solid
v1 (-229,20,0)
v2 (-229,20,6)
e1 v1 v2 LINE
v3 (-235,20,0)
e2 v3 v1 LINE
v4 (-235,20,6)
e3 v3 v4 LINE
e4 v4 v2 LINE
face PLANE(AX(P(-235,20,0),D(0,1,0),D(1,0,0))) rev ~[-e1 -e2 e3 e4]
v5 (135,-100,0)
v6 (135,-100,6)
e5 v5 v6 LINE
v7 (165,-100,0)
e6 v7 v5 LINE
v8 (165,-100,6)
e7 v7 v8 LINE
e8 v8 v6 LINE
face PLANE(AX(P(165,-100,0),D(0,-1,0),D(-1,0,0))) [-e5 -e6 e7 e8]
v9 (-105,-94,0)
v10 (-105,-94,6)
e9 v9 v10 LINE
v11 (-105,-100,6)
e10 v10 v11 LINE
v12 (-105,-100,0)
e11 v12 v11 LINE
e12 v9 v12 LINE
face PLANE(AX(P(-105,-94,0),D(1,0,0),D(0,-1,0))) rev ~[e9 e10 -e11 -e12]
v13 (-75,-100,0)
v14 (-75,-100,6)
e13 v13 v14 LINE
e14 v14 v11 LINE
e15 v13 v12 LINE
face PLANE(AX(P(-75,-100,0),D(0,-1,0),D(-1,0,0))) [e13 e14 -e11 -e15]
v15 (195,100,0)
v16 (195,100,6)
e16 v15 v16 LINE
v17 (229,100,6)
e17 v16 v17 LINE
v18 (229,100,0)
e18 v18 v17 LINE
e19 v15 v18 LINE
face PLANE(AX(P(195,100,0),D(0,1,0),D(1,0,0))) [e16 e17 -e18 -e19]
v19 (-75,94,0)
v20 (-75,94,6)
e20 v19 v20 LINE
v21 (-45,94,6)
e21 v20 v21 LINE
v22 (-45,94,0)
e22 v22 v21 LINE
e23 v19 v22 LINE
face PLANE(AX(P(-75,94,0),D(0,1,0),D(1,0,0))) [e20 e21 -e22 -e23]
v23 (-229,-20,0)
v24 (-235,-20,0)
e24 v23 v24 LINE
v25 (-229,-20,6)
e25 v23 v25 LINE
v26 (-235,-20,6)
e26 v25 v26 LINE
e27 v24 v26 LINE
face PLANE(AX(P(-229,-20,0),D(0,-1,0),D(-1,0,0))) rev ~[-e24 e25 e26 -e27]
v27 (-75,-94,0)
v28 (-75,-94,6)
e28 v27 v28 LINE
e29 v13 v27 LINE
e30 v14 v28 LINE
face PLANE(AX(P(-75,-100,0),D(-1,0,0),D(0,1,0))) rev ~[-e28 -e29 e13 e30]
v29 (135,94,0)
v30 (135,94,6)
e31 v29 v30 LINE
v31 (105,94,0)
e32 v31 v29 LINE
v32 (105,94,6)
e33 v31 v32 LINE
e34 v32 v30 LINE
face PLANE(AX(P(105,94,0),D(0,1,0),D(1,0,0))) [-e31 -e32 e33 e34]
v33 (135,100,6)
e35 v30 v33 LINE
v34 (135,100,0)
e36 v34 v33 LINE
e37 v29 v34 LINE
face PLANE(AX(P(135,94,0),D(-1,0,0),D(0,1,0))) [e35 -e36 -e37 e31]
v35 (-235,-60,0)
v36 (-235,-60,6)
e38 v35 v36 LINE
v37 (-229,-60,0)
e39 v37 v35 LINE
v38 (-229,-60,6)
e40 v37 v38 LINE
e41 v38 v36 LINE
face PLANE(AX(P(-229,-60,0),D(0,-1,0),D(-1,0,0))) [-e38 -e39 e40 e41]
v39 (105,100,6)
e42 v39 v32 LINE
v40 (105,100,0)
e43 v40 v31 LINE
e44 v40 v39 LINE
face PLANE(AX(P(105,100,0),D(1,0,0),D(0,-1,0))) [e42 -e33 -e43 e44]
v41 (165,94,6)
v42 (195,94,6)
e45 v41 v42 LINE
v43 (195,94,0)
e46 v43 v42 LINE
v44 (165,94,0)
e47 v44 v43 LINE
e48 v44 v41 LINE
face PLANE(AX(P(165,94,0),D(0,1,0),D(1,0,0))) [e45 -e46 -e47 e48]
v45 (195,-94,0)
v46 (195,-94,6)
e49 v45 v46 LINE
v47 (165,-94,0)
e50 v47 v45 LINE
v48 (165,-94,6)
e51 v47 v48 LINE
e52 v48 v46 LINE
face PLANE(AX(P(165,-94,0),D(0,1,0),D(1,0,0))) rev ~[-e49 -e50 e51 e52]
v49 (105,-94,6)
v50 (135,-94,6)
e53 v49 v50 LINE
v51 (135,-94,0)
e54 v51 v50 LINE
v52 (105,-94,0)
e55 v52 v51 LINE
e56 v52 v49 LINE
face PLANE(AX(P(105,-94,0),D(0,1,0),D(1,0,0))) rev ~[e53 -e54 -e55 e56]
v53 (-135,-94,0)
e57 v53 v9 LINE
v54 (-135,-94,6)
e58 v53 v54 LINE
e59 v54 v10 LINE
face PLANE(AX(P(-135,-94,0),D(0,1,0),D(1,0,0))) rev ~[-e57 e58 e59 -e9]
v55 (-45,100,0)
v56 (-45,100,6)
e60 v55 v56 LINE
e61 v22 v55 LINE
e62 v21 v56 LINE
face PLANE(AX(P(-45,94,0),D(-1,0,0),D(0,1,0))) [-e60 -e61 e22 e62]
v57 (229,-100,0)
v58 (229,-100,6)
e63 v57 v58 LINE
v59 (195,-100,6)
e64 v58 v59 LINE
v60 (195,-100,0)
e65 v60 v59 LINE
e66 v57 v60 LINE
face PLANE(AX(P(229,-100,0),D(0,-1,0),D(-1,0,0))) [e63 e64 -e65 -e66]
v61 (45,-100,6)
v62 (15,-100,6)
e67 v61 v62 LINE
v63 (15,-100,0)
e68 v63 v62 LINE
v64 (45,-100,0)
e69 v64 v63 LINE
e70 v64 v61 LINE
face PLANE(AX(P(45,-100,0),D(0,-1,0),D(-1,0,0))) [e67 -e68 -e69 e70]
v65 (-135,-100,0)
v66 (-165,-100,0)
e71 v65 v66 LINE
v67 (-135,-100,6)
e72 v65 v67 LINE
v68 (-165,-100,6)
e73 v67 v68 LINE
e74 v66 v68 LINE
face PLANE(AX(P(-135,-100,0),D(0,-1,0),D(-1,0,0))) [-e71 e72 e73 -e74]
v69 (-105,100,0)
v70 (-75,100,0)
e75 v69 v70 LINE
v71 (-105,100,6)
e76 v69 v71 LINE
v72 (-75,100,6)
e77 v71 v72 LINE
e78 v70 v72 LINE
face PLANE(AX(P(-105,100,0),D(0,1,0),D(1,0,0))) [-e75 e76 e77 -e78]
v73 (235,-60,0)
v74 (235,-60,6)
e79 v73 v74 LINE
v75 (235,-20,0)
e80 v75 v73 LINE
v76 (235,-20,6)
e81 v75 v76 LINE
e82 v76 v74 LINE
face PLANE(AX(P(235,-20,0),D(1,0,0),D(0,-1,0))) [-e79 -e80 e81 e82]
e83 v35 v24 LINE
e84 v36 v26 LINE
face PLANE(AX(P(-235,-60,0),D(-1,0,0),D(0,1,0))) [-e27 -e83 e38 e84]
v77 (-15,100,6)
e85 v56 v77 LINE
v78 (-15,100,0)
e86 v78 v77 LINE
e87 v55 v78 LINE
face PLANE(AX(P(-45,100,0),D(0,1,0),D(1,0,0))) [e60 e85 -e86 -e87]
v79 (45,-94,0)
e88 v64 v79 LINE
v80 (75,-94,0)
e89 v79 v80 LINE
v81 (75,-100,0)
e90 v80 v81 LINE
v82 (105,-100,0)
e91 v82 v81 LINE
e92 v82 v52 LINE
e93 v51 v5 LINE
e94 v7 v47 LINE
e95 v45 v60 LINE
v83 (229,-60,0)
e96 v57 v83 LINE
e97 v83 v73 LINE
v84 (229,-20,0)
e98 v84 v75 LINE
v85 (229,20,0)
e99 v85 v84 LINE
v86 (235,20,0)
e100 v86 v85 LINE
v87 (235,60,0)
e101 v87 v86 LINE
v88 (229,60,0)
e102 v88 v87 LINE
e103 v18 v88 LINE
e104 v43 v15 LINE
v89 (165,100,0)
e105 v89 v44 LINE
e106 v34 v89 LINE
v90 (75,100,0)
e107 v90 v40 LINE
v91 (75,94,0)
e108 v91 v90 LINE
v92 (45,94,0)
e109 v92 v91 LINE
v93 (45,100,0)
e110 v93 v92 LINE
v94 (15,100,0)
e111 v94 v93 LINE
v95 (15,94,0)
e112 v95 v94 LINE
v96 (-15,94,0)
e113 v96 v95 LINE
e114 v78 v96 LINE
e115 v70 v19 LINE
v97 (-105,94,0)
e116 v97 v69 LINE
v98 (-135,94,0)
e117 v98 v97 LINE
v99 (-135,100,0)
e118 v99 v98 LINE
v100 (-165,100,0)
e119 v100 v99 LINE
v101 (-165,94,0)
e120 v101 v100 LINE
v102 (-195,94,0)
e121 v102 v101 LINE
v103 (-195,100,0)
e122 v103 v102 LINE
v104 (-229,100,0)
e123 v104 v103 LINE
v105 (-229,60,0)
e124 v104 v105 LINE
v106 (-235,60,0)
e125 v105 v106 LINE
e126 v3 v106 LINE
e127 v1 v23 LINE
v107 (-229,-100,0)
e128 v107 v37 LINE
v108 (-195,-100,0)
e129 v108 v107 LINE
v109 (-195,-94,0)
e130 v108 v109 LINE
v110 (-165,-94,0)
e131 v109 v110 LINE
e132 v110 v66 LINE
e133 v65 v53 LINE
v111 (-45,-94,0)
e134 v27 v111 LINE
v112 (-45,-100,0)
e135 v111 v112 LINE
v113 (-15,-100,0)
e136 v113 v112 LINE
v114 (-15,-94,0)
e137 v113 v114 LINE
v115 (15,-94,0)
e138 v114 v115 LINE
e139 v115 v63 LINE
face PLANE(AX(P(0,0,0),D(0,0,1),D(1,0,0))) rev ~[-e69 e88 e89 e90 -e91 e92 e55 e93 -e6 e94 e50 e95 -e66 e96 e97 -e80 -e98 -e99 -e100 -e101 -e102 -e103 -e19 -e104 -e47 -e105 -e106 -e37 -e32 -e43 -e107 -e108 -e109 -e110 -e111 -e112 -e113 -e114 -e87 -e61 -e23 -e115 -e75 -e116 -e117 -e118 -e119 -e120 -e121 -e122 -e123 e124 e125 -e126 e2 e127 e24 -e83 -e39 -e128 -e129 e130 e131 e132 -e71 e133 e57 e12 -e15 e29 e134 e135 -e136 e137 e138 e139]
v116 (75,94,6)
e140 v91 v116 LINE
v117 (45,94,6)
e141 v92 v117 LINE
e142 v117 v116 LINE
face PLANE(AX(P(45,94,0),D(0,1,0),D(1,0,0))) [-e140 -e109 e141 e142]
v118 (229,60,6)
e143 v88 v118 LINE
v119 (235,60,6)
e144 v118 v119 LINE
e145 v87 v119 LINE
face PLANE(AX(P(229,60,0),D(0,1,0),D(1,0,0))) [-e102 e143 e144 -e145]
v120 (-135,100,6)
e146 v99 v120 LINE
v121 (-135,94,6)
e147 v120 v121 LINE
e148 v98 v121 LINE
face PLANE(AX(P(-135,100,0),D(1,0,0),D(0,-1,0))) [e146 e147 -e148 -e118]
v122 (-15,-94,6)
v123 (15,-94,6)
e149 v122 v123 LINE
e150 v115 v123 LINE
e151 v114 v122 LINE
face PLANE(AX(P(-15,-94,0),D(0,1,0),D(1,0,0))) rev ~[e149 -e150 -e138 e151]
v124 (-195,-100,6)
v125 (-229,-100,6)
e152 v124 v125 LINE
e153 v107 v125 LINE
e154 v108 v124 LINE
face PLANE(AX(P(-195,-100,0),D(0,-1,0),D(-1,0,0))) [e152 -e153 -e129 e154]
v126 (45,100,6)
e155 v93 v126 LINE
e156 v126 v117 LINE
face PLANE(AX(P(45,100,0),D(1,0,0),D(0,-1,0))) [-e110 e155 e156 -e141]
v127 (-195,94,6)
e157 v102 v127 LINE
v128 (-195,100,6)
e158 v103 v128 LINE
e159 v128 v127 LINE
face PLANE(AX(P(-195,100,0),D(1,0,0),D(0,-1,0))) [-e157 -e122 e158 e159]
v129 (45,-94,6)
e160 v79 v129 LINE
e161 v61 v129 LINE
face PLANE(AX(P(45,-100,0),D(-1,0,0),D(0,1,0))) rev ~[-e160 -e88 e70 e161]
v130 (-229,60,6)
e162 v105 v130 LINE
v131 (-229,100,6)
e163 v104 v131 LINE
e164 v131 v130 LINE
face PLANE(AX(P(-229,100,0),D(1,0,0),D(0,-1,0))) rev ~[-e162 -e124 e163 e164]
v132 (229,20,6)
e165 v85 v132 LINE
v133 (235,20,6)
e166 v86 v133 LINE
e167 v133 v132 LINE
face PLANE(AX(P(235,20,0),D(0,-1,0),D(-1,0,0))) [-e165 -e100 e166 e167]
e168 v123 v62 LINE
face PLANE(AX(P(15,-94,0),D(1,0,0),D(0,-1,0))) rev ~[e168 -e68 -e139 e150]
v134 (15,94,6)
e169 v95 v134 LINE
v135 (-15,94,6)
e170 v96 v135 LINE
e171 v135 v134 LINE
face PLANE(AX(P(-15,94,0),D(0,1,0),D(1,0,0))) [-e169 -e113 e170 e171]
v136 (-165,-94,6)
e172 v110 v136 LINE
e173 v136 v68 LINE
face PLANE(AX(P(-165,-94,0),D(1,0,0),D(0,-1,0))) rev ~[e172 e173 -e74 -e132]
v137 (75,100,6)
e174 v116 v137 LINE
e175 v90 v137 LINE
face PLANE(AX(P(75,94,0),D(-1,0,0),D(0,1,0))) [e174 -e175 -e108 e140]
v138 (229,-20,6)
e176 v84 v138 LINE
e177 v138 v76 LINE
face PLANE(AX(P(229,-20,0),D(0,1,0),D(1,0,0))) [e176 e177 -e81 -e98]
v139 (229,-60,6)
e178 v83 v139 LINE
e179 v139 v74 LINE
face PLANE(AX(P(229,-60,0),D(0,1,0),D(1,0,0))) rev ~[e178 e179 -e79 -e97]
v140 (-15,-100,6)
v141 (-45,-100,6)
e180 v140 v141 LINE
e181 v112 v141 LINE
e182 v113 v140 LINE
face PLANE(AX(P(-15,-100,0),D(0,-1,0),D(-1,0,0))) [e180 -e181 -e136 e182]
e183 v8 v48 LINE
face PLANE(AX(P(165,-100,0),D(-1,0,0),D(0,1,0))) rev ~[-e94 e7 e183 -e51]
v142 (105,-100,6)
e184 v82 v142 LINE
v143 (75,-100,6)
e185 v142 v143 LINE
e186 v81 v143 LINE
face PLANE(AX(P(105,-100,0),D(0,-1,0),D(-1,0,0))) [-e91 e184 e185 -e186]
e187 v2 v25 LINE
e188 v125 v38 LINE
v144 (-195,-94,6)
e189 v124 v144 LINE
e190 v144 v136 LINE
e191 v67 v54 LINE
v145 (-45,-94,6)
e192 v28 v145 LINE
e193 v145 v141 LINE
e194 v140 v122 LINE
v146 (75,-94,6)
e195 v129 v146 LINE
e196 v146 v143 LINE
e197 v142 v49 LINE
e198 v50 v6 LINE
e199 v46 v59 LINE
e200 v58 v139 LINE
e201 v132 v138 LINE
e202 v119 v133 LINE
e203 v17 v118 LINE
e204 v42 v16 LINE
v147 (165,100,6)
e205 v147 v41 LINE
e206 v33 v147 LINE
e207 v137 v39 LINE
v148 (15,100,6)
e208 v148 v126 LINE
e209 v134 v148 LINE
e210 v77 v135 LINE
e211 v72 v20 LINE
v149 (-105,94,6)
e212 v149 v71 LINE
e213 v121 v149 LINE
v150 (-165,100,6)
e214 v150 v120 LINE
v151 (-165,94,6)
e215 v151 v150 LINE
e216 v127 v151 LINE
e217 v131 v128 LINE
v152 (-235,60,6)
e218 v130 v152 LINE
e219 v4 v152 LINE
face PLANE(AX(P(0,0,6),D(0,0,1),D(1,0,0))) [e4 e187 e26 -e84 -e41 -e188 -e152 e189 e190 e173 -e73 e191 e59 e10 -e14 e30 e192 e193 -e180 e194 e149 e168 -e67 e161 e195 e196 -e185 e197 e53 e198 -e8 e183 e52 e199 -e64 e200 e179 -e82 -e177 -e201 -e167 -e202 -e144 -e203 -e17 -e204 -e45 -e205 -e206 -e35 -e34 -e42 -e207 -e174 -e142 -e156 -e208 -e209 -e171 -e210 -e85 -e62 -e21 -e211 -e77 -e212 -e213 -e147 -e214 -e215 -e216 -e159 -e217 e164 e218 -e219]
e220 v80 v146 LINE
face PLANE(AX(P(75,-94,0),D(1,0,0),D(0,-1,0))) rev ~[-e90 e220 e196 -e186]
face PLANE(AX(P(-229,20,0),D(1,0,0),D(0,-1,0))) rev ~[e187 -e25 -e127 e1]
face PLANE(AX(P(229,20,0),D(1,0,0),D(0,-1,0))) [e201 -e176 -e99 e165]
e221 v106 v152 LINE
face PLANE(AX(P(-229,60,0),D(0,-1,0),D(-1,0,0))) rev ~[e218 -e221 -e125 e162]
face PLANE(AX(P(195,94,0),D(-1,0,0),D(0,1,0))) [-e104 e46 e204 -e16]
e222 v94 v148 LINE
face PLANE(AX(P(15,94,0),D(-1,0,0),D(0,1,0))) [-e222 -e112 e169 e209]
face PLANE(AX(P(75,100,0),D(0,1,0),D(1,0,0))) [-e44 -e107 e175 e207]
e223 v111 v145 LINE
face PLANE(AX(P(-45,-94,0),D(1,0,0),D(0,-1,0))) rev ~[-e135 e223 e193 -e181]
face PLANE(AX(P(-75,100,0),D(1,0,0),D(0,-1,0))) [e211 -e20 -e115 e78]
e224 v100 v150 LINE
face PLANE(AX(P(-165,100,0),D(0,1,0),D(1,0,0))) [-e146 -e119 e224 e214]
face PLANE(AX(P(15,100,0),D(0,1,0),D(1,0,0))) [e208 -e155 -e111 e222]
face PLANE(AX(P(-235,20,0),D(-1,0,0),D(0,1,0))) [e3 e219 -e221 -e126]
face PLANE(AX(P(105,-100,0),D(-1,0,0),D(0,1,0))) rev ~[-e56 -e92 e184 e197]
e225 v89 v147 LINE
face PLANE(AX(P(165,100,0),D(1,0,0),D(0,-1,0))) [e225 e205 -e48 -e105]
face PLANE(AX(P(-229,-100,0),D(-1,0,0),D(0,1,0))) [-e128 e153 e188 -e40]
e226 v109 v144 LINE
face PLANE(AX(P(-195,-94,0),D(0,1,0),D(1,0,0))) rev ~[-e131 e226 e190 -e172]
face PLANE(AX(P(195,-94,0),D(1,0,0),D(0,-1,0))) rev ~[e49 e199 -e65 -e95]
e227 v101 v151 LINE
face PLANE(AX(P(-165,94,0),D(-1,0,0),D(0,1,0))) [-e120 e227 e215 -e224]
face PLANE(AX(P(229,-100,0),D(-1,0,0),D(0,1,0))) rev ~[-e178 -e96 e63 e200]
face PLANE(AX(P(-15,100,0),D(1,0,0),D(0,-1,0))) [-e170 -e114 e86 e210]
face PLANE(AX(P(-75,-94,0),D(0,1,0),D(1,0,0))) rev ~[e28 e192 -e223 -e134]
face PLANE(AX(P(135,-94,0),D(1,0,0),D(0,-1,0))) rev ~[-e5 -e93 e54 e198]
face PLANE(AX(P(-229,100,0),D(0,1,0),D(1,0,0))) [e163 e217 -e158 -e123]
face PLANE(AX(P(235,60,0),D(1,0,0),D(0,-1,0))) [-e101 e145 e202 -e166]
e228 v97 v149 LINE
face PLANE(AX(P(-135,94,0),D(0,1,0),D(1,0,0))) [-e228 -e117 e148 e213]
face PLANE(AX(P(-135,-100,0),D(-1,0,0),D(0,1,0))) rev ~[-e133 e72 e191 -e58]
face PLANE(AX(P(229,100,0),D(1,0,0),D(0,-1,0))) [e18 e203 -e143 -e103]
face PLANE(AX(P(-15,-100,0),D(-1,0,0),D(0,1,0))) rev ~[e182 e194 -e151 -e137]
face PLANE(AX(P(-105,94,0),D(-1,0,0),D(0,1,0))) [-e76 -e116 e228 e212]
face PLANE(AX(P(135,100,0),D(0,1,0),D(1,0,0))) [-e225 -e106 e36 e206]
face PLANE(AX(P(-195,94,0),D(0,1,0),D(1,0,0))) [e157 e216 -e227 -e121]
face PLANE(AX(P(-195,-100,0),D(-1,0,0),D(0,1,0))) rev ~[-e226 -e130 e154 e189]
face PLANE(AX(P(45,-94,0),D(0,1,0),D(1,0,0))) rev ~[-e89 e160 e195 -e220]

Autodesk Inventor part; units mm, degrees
ref_plane "YZ Plane" through (0, 0, 0) normal (1, 0, 0) x (0, 1, 0)
ref_plane "XZ Plane" through (0, 0, 0) normal (0, 1, 0) x (-1, 0, 0)
ref_plane "XY Plane" through (0, 0, 0) normal (0, 0, 1) x (1, 0, 0)
sketch "Sketch1" plane through (0, 0, 0) normal (0, 0, 1) x (1, 0, 0)
  line L0 (-235, 100) -> (235, 100)
  line L1 (235, 100) -> (235, -100)
  line L2 (235, -100) -> (-235, -100)
  line L3 (-235, -100) -> (-235, 100)
  line L4 (-235, 100) -> (235, -100) construction
  line L5 (235, 100) -> (-235, -100) construction
  line L6 (-15, 94) -> (15, 94)
  line L7 (15, 94) -> (15, 100)
  line L8 (15, 100) -> (-15, 100)
  line L9 (-15, 100) -> (-15, 94)
  line L10 (-15, 94) -> (15, 100) construction
  line L11 (15, 94) -> (-15, 100) construction
  line L12 (45, 94) -> (75, 94)
  line L13 (75, 94) -> (75, 100)
  line L14 (75, 100) -> (45, 100)
  line L15 (45, 100) -> (45, 94)
  line L16 (45, 94) -> (75, 100) construction
  line L17 (75, 94) -> (45, 100) construction
  line L18 (105, 94) -> (135, 94)
  line L19 (135, 94) -> (135, 100)
  line L20 (135, 100) -> (105, 100)
  line L21 (105, 100) -> (105, 94)
  line L22 (105, 94) -> (135, 100) construction
  line L23 (135, 94) -> (105, 100) construction
  line L24 (165, 94) -> (195, 94)
  line L25 (195, 94) -> (195, 100)
  line L26 (195, 100) -> (165, 100)
  line L27 (165, 100) -> (165, 94)
  line L28 (165, 94) -> (195, 100) construction
  line L29 (195, 94) -> (165, 100) construction
  line L30 (-75, 94) -> (-45, 94)
  line L31 (-45, 94) -> (-45, 100)
  line L32 (-45, 100) -> (-75, 100)
  line L33 (-75, 100) -> (-75, 94)
  line L34 (-75, 94) -> (-45, 100) construction
  line L35 (-45, 94) -> (-75, 100) construction
  line L36 (-15, 94) -> (15, 94)
  line L37 (15, 94) -> (15, 100)
  line L38 (15, 100) -> (-15, 100)
  line L39 (-15, 100) -> (-15, 94)
  line L40 (-15, 94) -> (15, 100) construction
  line L41 (15, 94) -> (-15, 100) construction
  line L42 (45, 94) -> (75, 94)
  line L43 (75, 94) -> (75, 100)
  line L44 (75, 100) -> (45, 100)
  line L45 (45, 100) -> (45, 94)
  line L46 (45, 94) -> (75, 100) construction
  line L47 (75, 94) -> (45, 100) construction
  line L48 (105, 94) -> (135, 94)
  line L49 (135, 94) -> (135, 100)
  line L50 (135, 100) -> (105, 100)
  line L51 (105, 100) -> (105, 94)
  line L52 (105, 94) -> (135, 100) construction
  line L53 (135, 94) -> (105, 100) construction
  line L54 (-135, 94) -> (-105, 94)
  line L55 (-105, 94) -> (-105, 100)
  line L56 (-105, 100) -> (-135, 100)
  line L57 (-135, 100) -> (-135, 94)
  line L58 (-135, 94) -> (-105, 100) construction
  line L59 (-105, 94) -> (-135, 100) construction
  line L60 (-75, 94) -> (-45, 94)
  line L61 (-45, 94) -> (-45, 100)
  line L62 (-45, 100) -> (-75, 100)
  line L63 (-75, 100) -> (-75, 94)
  line L64 (-75, 94) -> (-45, 100) construction
  line L65 (-45, 94) -> (-75, 100) construction
  line L66 (-15, 94) -> (15, 94)
  line L67 (15, 94) -> (15, 100)
  line L68 (15, 100) -> (-15, 100)
  line L69 (-15, 100) -> (-15, 94)
  line L70 (-15, 94) -> (15, 100) construction
  line L71 (15, 94) -> (-15, 100) construction
  line L72 (45, 94) -> (75, 94)
  line L73 (75, 94) -> (75, 100)
  line L74 (75, 100) -> (45, 100)
  line L75 (45, 100) -> (45, 94)
  line L76 (45, 94) -> (75, 100) construction
  line L77 (75, 94) -> (45, 100) construction
  line L78 (-195, 94) -> (-165, 94)
  line L79 (-165, 94) -> (-165, 100)
  line L80 (-165, 100) -> (-195, 100)
  line L81 (-195, 100) -> (-195, 94)
  line L82 (-195, 94) -> (-165, 100) construction
  line L83 (-165, 94) -> (-195, 100) construction
  line L84 (-135, 94) -> (-105, 94)
  line L85 (-105, 94) -> (-105, 100)
  line L86 (-105, 100) -> (-135, 100)
  line L87 (-135, 100) -> (-135, 94)
  line L88 (-135, 94) -> (-105, 100) construction
  line L89 (-105, 94) -> (-135, 100) construction
  line L90 (-75, 94) -> (-45, 94)
  line L91 (-45, 94) -> (-45, 100)
  line L92 (-45, 100) -> (-75, 100)
  line L93 (-75, 100) -> (-75, 94)
  line L94 (-75, 94) -> (-45, 100) construction
  line L95 (-45, 94) -> (-75, 100) construction
  line L96 (-15, 94) -> (15, 94)
  line L97 (15, 94) -> (15, 100)
  line L98 (15, 100) -> (-15, 100)
  line L99 (-15, 100) -> (-15, 94)
  line L100 (-15, 94) -> (15, 100) construction
  line L101 (15, 94) -> (-15, 100) construction
  line L102 (229, -20) -> (235, -20)
  line L103 (235, -20) -> (235, 20)
  line L104 (235, 20) -> (229, 20)
  line L105 (229, 20) -> (229, -20)
  line L106 (229, -20) -> (235, 20) construction
  line L107 (235, -20) -> (229, 20) construction
  line L108 (235, 100) -> (229, 100)
  line L109 (229, 100) -> (229, 60)
  line L110 (229, 60) -> (235, 60)
  line L111 (235, 60) -> (235, 100)
  line L112 (235, -100) -> (229, -100)
  line L113 (229, -100) -> (229, -60)
  line L114 (229, -60) -> (235, -60)
  line L115 (235, -60) -> (235, -100)
  line L116 (0, 100) -> (0, -100) construction
  line L117 (235, 0) -> (-235, 0) construction
  line L118 (-229, -20) -> (-235, -20)
  line L119 (-235, -20) -> (-235, 20)
  line L120 (-235, 20) -> (-229, 20)
  line L121 (-229, 20) -> (-229, -20)
  line L122 (-229, -20) -> (-235, 20) construction
  line L123 (-235, -20) -> (-229, 20) construction
  line L124 (-235, 100) -> (-229, 100)
  line L125 (-229, 100) -> (-229, 60)
  line L126 (-229, 60) -> (-235, 60)
  line L127 (-235, 60) -> (-235, 100)
  line L128 (-235, -100) -> (-229, -100)
  line L129 (-229, -100) -> (-229, -60)
  line L130 (-229, -60) -> (-235, -60)
  line L131 (-235, -60) -> (-235, -100)
  line L132 (-15, -94) -> (15, -94)
  line L133 (15, -94) -> (15, -100)
  line L134 (15, -100) -> (-15, -100)
  line L135 (-15, -100) -> (-15, -94)
  line L136 (-15, -94) -> (15, -100) construction
  line L137 (15, -94) -> (-15, -100) construction
  line L138 (45, -100) -> (45, -94)
  line L139 (45, -94) -> (75, -94)
  line L140 (75, -100) -> (45, -100)
  line L141 (45, -94) -> (75, -100) construction
  line L142 (75, -94) -> (45, -100) construction
  line L143 (75, -94) -> (75, -100)
  line L144 (105, -100) -> (105, -94)
  line L145 (105, -94) -> (135, -94)
  line L146 (135, -100) -> (105, -100)
  line L147 (105, -94) -> (135, -100) construction
  line L148 (135, -94) -> (105, -100) construction
  line L149 (135, -94) -> (135, -100)
  line L150 (165, -100) -> (165, -94)
  line L151 (165, -94) -> (195, -94)
  line L152 (195, -100) -> (165, -100)
  line L153 (165, -94) -> (195, -100) construction
  line L154 (195, -94) -> (165, -100) construction
  line L155 (195, -94) -> (195, -100)
  line L156 (-75, -100) -> (-75, -94)
  line L157 (-75, -94) -> (-45, -94)
  line L158 (-45, -100) -> (-75, -100)
  line L159 (-75, -94) -> (-45, -100) construction
  line L160 (-45, -94) -> (-75, -100) construction
  line L161 (-45, -94) -> (-45, -100)
  line L162 (-15, -100) -> (-15, -94)
  line L163 (-15, -94) -> (15, -94)
  line L164 (15, -100) -> (-15, -100)
  line L165 (-15, -94) -> (15, -100) construction
  line L166 (15, -94) -> (-15, -100) construction
  line L167 (15, -94) -> (15, -100)
  line L168 (45, -100) -> (45, -94)
  line L169 (45, -94) -> (75, -94)
  line L170 (75, -100) -> (45, -100)
  line L171 (45, -94) -> (75, -100) construction
  line L172 (75, -94) -> (45, -100) construction
  line L173 (75, -94) -> (75, -100)
  line L174 (105, -100) -> (105, -94)
  line L175 (105, -94) -> (135, -94)
  line L176 (135, -100) -> (105, -100)
  line L177 (105, -94) -> (135, -100) construction
  line L178 (135, -94) -> (105, -100) construction
  line L179 (135, -94) -> (135, -100)
  line L180 (-135, -100) -> (-135, -94)
  line L181 (-135, -94) -> (-105, -94)
  line L182 (-105, -100) -> (-135, -100)
  line L183 (-135, -94) -> (-105, -100) construction
  line L184 (-105, -94) -> (-135, -100) construction
  line L185 (-105, -94) -> (-105, -100)
  line L186 (-75, -100) -> (-75, -94)
  line L187 (-75, -94) -> (-45, -94)
  line L188 (-45, -100) -> (-75, -100)
  line L189 (-75, -94) -> (-45, -100) construction
  line L190 (-45, -94) -> (-75, -100) construction
  line L191 (-45, -94) -> (-45, -100)
  line L192 (-15, -100) -> (-15, -94)
  line L193 (-15, -94) -> (15, -94)
  line L194 (15, -100) -> (-15, -100)
  line L195 (-15, -94) -> (15, -100) construction
  line L196 (15, -94) -> (-15, -100) construction
  line L197 (15, -94) -> (15, -100)
  line L198 (45, -100) -> (45, -94)
  line L199 (45, -94) -> (75, -94)
  line L200 (75, -100) -> (45, -100)
  line L201 (45, -94) -> (75, -100) construction
  line L202 (75, -94) -> (45, -100) construction
  line L203 (75, -94) -> (75, -100)
  line L204 (-195, -100) -> (-195, -94)
  line L205 (-195, -94) -> (-165, -94)
  line L206 (-165, -100) -> (-195, -100)
  line L207 (-195, -94) -> (-165, -100) construction
  line L208 (-165, -94) -> (-195, -100) construction
  line L209 (-165, -94) -> (-165, -100)
  line L210 (-135, -100) -> (-135, -94)
  line L211 (-135, -94) -> (-105, -94)
  line L212 (-105, -100) -> (-135, -100)
  line L213 (-135, -94) -> (-105, -100) construction
  line L214 (-105, -94) -> (-135, -100) construction
  line L215 (-105, -94) -> (-105, -100)
  line L216 (-75, -100) -> (-75, -94)
  line L217 (-75, -94) -> (-45, -94)
  line L218 (-45, -100) -> (-75, -100)
  line L219 (-75, -94) -> (-45, -100) construction
  line L220 (-45, -94) -> (-75, -100) construction
  line L221 (-45, -94) -> (-45, -100)
  line L222 (-15, -100) -> (-15, -94)
  line L223 (-15, -94) -> (15, -94)
  line L224 (15, -100) -> (-15, -100)
  line L225 (-15, -94) -> (15, -100) construction
  line L226 (15, -94) -> (-15, -100) construction
  line L227 (15, -94) -> (15, -100)
  point P0 (0, 0)
  point P1 (0, 97)
  point P2 (0, 97)
  point P3 (0, 0)
  point P4 (60, 97)
  point P5 (60, 97)
  point P6 (120, 97)
  point P7 (120, 97)
  point P8 (180, 97)
  point P9 (180, 97)
  point P10 (-60, 97)
  point P11 (-60, 97)
  point P12 (0, 97)
  point P13 (0, 97)
  point P14 (60, 97)
  point P15 (60, 97)
  point P16 (120, 97)
  point P17 (120, 97)
  point P18 (-120, 97)
  point P19 (-120, 97)
  point P20 (-60, 97)
  point P21 (-60, 97)
  point P22 (0, 97)
  point P23 (0, 97)
  point P24 (60, 97)
  point P25 (60, 97)
  point P26 (-180, 97)
  point P27 (-180, 97)
  point P28 (-120, 97)
  point P29 (-120, 97)
  point P30 (-60, 97)
  point P31 (-60, 97)
  point P32 (0, 97)
  point P33 (0, 97)
  point P34 (232, 0)
  point P35 (232, 0)
  point P36 (0, 0)
  point P37 (-232, 0)
  point P38 (-232, 0)
  point P39 (0, -97)
  point P40 (60, -100)
  point P41 (60, -97)
  point P42 (120, -100)
  point P43 (120, -97)
  point P44 (180, -100)
  point P45 (180, -97)
  point P46 (-60, -100)
  point P47 (-60, -97)
  point P48 (0, -97)
  point P49 (60, -100)
  point P50 (60, -97)
  point P51 (120, -100)
  point P52 (120, -97)
  point P53 (-120, -100)
  point P54 (-120, -97)
  point P55 (-60, -100)
  point P56 (-60, -97)
  point P57 (0, -97)
  point P58 (60, -100)
  point P59 (60, -97)
  point P60 (-180, -100)
  point P61 (-180, -97)
  point P62 (-120, -100)
  point P63 (-120, -97)
  point P64 (-60, -100)
  point P65 (-60, -97)
  point P66 (0, -97)
  point P67 (0, 85)
  point P68 (0, 100)
  dimension "d0" = 470
  dimension "d1" = 200
  dimension "d2" = 6
  dimension "d3" = 30
  dimension "d6" = 60
  dimension "d9" = 60
  dimension "d12" = 6
  dimension "d13" = 40
  dimension "d14" = 6
  dimension "d15" = 40
  dimension "d16" = 6
  dimension "d17" = 40
  dimension "d20" = 60
  dimension "d23" = 60
extrude "Plate1" add sketch "Sketch1" along normal blind 6 contours L0 L81 L78 L79 L57 L54 L55 L33 L30 L31 L9 L6 L7 L15 L12 L13 L21 L18 L19 L27 L24 L25 L109 L110 L1 L104 L105 L102 L114 L113 L2 L155 L151 L150 L149 L145 L144 L143 L139 L138 L133 L132 L135 L161 L157 L156 L185 L181 L180 L209 L205 L204 L129 L130 L3 L118 L121 L120 L126 L125
equation "\"d12\" = d2"
equation "\"d15\" = d13"
equation "\"d33\" = Thickness"
equation "\"BendRadius\" = Thickness"
equation "\"BendReliefWidth\" = Thickness"
equation "\"BendReliefDepth\" = 0.5 * Thickness"
equation "\"CornerReliefSize\" = 4 * Thickness"
equation "\"MinimumRemnant\" = 2 * Thickness"
equation "\"TransitionRadius\" = BendRadius"
equation "\"JacobiRadiusSize\" = BendRadius"
equation "\"GapSize\" = Thickness"
equation "\"Thickness\" = 6"
properties part number "bovenplaat elektrobox v2" material "Wood (Birch)"
